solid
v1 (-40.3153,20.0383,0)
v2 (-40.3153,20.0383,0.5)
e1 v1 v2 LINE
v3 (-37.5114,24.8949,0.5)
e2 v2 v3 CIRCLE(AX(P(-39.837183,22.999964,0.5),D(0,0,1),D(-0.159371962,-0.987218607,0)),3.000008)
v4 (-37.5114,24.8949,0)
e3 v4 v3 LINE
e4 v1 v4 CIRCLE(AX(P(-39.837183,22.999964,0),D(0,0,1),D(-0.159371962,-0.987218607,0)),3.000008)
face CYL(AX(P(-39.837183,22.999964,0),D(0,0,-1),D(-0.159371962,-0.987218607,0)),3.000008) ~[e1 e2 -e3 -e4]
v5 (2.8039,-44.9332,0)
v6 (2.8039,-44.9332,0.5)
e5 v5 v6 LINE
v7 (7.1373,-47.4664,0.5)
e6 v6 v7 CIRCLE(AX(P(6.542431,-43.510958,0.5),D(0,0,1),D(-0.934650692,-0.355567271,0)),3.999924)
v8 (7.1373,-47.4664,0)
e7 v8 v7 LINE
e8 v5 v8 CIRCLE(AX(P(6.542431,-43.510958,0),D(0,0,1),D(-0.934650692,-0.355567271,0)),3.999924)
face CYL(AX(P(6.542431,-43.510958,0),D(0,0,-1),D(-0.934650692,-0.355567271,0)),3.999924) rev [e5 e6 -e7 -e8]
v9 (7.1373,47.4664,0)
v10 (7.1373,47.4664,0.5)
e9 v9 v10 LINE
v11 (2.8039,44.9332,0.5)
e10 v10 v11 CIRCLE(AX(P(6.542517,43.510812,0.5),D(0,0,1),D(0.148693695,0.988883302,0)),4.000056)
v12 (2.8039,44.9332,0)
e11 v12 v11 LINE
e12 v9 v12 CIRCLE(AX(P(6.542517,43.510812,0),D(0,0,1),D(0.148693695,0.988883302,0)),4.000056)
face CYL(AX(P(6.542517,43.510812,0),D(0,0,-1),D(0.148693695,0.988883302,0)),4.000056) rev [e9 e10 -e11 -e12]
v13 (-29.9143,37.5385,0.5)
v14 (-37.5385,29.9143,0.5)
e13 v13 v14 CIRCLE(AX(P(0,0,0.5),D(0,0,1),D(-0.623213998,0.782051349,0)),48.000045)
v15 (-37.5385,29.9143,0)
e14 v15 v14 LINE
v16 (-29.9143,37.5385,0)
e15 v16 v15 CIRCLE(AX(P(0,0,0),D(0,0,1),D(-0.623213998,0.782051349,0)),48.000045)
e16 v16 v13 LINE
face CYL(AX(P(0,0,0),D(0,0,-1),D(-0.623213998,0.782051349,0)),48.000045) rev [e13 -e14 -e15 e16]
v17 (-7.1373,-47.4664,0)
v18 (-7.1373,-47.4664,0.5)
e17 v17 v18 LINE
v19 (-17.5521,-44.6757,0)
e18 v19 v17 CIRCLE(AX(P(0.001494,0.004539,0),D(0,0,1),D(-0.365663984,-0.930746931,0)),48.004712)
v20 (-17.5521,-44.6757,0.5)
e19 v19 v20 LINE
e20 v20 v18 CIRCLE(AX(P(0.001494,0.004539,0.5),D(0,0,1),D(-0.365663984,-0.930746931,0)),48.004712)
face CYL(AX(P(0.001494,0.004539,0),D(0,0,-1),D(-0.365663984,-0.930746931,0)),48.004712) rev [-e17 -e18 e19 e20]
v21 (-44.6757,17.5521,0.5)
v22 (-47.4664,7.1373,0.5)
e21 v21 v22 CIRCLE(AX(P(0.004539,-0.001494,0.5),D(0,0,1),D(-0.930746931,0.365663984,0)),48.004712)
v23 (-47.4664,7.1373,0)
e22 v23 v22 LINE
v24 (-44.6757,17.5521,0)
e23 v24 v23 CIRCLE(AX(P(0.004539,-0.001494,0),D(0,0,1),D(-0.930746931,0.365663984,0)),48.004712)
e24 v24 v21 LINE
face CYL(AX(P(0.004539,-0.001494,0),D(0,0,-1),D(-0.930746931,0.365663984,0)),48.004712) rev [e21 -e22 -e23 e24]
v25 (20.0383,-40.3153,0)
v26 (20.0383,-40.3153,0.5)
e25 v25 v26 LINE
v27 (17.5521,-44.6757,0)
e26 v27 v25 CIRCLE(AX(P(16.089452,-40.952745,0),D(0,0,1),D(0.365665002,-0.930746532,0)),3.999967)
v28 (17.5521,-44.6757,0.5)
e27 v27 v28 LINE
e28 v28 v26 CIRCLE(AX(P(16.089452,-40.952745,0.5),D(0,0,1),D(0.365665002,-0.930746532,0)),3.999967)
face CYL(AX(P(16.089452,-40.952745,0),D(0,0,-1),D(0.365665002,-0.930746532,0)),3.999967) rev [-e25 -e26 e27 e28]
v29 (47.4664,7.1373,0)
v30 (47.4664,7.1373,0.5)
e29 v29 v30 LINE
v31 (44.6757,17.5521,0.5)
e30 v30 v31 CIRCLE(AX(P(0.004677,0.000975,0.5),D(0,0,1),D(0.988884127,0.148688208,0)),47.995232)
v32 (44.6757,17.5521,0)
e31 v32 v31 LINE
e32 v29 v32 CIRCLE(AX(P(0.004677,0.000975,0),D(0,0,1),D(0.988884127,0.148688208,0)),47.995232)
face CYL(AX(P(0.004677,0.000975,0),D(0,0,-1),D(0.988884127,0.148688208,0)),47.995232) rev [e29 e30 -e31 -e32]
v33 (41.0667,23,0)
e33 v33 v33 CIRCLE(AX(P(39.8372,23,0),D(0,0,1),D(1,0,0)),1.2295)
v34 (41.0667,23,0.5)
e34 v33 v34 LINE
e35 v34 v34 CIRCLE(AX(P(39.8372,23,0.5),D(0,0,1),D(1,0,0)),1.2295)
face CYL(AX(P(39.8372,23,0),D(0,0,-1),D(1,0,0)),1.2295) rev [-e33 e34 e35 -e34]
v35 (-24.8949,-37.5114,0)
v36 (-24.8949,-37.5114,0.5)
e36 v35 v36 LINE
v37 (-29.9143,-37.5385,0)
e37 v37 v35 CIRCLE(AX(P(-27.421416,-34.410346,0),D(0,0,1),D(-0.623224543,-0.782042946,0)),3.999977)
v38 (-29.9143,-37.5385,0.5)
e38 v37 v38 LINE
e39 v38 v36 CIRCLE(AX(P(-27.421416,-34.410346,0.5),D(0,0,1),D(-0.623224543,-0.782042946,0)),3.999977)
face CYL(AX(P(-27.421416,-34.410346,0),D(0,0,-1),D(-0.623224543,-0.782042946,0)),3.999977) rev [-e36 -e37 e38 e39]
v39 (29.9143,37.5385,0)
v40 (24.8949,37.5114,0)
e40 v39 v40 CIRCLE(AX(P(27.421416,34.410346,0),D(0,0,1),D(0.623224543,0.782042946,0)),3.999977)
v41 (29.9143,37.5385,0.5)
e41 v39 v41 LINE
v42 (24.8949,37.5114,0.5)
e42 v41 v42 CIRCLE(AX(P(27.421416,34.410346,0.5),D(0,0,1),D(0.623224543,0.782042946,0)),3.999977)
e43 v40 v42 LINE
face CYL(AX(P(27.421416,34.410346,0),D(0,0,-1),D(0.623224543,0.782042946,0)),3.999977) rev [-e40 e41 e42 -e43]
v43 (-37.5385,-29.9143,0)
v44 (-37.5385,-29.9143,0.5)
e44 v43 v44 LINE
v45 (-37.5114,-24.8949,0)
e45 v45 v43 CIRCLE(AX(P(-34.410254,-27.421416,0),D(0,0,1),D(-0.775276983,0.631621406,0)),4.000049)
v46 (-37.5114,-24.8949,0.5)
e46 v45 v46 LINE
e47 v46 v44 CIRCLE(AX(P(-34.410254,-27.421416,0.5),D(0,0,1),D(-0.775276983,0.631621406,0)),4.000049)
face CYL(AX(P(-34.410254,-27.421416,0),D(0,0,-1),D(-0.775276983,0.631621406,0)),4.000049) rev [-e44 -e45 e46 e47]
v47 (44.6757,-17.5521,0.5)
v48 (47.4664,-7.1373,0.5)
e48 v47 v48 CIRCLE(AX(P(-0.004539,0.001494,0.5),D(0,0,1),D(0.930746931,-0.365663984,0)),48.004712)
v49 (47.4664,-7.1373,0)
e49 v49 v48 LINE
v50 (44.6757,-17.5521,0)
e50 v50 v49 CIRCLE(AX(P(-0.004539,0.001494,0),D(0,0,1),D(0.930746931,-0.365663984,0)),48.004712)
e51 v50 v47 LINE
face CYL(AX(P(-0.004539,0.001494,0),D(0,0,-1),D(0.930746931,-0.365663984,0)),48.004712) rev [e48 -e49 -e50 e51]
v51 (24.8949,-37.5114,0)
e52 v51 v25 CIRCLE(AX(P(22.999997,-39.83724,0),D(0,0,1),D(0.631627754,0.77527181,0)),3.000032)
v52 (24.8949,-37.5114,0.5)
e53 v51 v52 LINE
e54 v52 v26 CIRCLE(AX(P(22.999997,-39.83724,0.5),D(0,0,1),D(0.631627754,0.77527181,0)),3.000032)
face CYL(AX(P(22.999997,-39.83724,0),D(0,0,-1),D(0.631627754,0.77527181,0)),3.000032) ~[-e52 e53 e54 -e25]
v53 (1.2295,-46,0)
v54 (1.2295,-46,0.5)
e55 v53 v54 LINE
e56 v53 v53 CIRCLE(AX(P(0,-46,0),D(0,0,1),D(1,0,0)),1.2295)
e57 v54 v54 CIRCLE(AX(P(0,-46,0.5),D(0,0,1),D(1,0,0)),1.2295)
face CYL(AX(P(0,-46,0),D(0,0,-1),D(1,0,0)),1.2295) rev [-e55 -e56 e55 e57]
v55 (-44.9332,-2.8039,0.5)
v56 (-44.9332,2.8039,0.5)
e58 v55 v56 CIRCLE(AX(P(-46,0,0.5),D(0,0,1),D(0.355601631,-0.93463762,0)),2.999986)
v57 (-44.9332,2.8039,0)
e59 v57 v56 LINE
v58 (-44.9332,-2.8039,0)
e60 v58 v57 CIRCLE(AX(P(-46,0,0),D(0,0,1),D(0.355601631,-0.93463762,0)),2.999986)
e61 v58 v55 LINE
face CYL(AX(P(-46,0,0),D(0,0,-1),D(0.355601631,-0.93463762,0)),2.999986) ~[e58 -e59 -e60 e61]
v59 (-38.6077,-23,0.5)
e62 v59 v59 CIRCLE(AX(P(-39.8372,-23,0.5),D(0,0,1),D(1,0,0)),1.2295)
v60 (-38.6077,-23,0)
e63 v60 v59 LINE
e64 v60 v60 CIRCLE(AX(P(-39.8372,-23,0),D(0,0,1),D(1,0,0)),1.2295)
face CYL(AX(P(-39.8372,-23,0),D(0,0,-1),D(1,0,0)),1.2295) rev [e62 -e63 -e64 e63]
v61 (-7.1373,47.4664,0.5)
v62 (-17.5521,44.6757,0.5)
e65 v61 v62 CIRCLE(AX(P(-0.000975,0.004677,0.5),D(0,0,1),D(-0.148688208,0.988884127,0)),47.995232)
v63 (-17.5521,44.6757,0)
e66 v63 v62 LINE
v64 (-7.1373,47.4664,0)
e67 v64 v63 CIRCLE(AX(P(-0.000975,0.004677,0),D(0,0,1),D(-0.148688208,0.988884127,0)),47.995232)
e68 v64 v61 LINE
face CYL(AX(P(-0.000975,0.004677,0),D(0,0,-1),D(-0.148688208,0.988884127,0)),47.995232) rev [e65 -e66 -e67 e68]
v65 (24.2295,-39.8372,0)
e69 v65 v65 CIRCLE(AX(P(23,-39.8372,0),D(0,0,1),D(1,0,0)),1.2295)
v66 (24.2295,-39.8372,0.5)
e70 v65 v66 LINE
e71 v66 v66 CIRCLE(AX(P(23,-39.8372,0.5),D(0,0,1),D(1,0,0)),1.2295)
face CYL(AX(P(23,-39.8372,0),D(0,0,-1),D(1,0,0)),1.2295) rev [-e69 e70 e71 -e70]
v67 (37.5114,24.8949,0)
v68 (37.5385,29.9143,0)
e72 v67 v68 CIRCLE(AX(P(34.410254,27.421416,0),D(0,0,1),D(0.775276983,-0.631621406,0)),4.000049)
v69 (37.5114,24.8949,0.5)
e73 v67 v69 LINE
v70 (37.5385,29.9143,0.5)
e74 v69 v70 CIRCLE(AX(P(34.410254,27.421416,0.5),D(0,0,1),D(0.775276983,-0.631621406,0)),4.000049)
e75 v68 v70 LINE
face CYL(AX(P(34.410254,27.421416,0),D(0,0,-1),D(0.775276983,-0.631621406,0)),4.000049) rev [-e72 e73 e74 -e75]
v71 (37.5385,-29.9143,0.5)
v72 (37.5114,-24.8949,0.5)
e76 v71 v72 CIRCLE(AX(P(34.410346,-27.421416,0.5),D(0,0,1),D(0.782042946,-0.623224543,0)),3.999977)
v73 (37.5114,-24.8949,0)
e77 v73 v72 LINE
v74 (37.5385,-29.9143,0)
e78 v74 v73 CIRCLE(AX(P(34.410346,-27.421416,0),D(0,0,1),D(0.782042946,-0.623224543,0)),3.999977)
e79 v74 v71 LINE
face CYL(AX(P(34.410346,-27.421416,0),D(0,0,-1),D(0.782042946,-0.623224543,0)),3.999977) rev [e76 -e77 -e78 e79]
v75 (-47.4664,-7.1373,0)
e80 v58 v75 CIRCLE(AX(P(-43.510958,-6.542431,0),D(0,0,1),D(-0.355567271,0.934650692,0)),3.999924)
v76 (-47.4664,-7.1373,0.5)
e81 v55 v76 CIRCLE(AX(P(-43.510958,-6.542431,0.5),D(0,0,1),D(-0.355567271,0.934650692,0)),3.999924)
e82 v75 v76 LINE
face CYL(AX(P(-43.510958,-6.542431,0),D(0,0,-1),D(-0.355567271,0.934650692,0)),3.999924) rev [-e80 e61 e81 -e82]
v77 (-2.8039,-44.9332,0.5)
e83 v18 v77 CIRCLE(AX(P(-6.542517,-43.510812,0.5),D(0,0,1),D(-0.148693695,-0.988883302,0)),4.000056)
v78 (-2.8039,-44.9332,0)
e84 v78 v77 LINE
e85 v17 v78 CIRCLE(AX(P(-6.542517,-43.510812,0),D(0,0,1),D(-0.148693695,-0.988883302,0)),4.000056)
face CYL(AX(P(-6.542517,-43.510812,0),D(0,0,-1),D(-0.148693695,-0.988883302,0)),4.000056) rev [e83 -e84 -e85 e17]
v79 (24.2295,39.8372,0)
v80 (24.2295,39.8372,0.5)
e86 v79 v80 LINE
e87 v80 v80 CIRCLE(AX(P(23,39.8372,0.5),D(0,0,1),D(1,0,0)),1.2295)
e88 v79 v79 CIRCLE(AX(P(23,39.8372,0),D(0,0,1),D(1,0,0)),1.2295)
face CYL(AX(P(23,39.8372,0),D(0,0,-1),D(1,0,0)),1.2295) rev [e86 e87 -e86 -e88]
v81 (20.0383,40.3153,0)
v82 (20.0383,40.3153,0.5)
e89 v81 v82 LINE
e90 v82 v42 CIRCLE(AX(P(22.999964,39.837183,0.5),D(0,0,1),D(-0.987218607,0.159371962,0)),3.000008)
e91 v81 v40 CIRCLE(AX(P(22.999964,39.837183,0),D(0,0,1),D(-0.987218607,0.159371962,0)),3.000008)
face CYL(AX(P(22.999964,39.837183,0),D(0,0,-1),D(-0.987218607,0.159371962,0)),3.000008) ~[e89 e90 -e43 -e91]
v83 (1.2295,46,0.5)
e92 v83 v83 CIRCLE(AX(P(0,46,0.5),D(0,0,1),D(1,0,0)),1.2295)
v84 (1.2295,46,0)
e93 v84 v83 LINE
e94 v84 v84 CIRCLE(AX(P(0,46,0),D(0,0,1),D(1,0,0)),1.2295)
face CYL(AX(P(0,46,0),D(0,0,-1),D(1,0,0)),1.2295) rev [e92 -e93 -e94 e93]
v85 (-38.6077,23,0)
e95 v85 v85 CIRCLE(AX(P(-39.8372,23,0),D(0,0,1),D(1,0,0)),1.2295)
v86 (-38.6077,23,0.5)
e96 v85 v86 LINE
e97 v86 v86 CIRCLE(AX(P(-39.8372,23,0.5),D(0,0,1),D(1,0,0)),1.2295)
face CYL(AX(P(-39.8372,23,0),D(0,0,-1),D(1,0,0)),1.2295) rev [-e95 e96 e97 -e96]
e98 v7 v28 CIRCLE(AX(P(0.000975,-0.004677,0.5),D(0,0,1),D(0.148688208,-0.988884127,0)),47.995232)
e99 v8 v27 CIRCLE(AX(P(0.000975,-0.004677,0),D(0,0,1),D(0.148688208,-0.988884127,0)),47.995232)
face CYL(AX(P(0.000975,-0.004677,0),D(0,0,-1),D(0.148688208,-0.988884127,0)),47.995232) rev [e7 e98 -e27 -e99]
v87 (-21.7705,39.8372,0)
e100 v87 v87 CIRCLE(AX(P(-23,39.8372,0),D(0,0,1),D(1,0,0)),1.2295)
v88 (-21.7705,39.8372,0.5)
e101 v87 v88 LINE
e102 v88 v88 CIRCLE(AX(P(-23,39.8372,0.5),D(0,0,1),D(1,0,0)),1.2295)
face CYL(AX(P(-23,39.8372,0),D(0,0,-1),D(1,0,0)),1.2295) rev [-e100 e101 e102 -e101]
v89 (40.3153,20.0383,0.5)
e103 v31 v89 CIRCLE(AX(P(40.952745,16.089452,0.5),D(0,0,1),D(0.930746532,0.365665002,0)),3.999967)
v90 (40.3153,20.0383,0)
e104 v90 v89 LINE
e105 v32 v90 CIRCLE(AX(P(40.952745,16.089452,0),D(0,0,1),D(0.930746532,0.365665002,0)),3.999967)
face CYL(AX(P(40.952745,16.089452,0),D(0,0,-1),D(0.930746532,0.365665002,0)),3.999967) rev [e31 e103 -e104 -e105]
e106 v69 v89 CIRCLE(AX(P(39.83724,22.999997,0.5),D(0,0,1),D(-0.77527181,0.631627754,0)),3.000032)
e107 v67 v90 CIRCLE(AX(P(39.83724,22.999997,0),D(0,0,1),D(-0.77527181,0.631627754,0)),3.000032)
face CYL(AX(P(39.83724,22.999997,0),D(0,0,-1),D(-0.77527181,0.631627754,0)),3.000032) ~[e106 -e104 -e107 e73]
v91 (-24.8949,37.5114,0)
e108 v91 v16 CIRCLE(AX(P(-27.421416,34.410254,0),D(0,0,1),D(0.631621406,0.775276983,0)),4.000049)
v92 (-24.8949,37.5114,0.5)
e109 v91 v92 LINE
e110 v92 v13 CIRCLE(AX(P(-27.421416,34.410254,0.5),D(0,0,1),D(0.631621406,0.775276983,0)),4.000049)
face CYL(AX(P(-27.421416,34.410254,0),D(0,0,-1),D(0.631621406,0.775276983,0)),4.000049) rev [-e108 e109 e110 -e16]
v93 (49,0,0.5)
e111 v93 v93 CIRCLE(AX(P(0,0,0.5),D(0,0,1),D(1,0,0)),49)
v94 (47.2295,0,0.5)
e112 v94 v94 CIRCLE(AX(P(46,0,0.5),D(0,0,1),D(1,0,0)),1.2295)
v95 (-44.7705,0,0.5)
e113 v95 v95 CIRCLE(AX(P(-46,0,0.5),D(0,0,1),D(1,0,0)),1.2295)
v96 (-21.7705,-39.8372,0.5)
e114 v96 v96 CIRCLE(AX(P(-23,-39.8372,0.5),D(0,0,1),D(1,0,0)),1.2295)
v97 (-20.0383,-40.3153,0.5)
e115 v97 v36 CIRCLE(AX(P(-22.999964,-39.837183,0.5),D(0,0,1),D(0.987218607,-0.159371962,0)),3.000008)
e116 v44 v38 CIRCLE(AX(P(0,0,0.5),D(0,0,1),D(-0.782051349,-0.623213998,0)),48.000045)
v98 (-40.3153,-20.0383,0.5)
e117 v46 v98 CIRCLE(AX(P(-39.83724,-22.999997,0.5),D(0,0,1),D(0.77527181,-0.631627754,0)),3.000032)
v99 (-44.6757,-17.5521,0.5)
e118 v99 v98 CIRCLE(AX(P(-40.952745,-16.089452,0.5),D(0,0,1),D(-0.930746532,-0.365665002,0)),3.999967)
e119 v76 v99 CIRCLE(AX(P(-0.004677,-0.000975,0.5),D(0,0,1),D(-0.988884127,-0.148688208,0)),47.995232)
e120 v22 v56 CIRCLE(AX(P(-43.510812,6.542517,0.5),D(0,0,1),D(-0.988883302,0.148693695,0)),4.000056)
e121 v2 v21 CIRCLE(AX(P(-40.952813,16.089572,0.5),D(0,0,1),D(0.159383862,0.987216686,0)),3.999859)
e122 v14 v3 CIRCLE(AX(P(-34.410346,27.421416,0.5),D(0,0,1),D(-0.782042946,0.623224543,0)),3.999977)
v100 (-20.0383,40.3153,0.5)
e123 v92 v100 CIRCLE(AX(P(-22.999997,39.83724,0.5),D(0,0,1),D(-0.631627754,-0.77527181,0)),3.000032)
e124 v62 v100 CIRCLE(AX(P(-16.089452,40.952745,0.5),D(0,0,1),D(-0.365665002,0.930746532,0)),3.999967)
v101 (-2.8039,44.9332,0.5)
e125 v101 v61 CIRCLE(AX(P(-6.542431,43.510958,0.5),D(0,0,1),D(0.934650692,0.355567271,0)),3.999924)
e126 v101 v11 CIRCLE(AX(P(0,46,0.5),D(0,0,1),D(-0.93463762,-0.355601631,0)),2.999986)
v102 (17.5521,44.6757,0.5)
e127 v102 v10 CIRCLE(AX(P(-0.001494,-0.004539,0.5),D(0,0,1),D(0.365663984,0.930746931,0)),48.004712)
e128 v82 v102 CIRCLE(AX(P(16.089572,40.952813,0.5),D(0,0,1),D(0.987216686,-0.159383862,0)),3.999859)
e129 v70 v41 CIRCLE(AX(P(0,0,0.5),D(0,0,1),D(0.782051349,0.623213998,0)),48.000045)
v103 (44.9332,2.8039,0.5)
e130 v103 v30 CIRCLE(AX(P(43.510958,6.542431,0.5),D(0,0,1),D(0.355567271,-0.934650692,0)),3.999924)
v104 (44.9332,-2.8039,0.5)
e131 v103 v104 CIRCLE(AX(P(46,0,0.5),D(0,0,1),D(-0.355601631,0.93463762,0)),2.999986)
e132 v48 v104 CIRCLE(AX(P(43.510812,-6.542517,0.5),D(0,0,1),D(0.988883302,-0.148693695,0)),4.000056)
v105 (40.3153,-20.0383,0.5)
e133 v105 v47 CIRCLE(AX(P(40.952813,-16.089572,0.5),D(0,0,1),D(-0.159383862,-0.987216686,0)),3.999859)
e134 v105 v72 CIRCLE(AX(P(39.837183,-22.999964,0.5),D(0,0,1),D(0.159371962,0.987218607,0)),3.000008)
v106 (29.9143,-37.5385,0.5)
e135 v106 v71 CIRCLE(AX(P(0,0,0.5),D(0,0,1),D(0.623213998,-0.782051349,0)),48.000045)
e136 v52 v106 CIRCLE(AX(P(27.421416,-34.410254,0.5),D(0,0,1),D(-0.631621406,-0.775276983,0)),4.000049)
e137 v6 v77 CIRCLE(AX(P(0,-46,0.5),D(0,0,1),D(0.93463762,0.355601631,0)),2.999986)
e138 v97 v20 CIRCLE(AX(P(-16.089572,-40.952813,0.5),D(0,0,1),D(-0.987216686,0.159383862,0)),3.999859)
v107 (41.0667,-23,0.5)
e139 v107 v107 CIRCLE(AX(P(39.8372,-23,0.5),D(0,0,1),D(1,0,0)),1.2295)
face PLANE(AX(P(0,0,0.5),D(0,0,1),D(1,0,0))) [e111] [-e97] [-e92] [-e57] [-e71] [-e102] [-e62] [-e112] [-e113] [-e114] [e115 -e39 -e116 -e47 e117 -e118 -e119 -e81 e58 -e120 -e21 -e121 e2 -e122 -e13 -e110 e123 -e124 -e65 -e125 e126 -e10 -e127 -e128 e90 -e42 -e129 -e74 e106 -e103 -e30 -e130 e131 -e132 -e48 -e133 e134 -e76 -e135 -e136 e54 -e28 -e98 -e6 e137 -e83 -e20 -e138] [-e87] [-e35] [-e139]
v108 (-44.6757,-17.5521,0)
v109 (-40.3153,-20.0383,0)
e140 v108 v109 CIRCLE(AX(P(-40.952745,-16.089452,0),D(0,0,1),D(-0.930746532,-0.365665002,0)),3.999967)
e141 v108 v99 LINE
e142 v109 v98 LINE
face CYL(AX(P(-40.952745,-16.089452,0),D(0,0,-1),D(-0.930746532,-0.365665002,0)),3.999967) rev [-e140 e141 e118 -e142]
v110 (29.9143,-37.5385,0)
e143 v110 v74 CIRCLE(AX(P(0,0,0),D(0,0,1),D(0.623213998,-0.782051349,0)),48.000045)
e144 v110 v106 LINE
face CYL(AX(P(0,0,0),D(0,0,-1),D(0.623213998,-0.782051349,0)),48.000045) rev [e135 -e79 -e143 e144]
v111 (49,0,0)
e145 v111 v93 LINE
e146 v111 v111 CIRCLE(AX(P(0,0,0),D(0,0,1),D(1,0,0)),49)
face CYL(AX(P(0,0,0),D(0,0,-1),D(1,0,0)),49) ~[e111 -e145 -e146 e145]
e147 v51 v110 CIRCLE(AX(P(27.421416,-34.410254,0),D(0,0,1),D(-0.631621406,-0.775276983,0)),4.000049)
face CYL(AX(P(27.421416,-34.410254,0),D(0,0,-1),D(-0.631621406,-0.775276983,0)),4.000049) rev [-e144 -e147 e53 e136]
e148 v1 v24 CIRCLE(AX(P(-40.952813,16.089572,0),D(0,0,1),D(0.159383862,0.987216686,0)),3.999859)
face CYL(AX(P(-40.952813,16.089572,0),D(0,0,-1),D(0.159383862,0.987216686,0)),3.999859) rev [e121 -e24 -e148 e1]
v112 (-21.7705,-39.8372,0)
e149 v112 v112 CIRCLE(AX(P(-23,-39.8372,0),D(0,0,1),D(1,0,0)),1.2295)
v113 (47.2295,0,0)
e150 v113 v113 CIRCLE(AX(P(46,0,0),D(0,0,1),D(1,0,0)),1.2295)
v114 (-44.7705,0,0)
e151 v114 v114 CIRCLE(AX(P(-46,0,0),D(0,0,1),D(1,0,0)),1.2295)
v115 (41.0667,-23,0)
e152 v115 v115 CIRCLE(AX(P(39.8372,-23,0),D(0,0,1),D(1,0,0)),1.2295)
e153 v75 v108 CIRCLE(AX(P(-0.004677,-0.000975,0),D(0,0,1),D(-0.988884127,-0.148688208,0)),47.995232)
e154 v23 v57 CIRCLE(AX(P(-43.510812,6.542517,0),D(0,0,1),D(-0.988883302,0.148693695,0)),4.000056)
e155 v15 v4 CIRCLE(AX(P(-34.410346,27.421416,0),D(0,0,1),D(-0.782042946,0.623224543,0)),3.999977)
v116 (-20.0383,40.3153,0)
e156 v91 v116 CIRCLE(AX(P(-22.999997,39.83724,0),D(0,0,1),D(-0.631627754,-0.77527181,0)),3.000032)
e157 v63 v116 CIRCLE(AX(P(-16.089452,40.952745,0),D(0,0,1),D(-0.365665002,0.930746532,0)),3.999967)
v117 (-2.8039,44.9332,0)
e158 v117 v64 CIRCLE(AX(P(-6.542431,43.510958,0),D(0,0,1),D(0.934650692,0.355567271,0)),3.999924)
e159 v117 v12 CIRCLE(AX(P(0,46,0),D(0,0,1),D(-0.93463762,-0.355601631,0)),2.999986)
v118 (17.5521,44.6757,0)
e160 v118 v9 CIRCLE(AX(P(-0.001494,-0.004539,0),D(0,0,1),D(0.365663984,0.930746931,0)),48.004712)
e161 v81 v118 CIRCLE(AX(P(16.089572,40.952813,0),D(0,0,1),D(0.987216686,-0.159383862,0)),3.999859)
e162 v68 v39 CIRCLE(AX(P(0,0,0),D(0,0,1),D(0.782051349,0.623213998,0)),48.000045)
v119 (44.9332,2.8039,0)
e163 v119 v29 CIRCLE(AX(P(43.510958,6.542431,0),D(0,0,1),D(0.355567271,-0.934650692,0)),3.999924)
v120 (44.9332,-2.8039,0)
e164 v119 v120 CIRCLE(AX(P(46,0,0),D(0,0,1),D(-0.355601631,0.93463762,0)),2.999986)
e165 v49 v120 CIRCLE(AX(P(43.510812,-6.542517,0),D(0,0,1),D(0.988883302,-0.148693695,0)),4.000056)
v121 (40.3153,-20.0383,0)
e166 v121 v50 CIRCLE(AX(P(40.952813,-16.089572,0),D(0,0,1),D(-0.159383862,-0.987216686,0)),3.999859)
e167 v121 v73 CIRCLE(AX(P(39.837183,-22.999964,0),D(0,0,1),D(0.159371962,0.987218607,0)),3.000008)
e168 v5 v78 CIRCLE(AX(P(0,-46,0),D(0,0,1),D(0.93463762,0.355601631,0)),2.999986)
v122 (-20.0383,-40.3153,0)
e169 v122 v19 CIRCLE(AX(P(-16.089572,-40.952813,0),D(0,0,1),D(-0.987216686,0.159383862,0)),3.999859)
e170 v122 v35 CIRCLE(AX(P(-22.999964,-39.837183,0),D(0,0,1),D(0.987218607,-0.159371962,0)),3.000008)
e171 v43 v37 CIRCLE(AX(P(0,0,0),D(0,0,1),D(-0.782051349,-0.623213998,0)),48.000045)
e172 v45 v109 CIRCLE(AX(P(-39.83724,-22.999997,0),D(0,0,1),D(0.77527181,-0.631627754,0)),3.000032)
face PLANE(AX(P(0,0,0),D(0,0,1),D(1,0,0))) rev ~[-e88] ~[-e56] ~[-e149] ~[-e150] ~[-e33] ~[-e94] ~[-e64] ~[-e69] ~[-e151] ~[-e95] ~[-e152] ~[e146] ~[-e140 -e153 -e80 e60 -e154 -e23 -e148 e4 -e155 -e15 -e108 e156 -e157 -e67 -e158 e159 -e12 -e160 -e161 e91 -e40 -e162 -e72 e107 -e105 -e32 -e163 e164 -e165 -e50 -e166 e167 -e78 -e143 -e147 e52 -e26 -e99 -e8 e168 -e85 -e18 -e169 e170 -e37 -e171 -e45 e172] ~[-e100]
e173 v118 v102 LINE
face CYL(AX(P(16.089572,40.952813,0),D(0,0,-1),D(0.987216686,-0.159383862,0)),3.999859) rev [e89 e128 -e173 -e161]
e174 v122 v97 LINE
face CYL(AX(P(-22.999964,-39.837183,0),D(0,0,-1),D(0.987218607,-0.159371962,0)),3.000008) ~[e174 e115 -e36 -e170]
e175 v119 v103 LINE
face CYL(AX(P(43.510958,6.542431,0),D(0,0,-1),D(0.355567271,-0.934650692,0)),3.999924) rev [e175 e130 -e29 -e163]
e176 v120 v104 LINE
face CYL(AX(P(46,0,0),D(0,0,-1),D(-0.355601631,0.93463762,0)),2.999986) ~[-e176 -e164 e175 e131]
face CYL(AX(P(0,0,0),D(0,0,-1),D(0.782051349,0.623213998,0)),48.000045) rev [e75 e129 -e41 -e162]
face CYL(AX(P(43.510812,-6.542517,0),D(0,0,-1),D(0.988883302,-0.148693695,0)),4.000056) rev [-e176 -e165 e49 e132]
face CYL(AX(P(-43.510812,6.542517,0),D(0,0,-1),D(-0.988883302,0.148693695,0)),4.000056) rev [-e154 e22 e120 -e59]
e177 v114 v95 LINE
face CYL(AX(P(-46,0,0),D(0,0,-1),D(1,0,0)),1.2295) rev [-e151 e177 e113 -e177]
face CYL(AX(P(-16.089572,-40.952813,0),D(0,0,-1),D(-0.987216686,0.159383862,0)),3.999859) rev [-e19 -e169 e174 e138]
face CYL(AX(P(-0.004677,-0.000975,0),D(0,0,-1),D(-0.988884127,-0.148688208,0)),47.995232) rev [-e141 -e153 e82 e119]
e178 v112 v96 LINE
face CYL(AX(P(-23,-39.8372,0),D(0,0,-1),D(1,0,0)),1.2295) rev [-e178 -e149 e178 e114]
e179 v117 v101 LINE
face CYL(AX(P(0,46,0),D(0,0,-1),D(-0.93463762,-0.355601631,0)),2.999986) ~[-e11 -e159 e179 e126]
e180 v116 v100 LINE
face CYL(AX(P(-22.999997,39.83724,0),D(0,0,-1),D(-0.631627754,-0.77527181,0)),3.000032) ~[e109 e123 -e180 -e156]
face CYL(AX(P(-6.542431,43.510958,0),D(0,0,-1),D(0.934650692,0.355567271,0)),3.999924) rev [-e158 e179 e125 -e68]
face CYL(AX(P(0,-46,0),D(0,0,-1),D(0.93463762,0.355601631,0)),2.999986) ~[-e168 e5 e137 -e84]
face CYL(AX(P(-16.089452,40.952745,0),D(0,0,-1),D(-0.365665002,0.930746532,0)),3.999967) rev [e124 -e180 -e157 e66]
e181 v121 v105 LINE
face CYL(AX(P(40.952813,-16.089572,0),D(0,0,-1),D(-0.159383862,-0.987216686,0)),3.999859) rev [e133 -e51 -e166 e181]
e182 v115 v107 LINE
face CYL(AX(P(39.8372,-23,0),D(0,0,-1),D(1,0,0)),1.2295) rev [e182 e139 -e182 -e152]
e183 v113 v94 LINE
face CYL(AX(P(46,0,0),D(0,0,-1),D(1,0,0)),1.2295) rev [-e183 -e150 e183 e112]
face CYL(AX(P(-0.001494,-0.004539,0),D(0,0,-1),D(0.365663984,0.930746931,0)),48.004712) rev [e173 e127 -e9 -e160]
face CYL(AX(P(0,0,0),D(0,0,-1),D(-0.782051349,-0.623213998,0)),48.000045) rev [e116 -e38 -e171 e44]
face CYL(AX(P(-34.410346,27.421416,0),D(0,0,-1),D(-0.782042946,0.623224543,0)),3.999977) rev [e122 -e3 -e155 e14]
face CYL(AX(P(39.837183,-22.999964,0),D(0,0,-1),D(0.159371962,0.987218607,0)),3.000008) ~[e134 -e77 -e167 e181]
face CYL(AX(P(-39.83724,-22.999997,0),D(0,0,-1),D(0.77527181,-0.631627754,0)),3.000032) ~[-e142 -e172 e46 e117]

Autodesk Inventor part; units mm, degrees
ref_plane "YZ Plane" through (0, 0, 0) normal (1, 0, 0) x (0, 1, 0)
ref_plane "XZ Plane" through (0, 0, 0) normal (0, 1, 0) x (-1, 0, 0)
ref_plane "XY Plane" through (0, 0, 0) normal (0, 0, 1) x (1, 0, 0)
sketch "Sketch1" plane through (0, 0, 0) normal (0, 0, 1) x (1, 0, 0)
  circle A0 centre (39.8372, -23) radius 1.2295
  circle A1 centre (23, -39.8372) radius 1.2295
  circle A2 centre (0, -46) radius 1.2295
  circle A3 centre (-23, -39.8372) radius 1.2295
  circle A4 centre (-39.8372, -23) radius 1.2295
  circle A5 centre (-46, 0) radius 1.2295
  circle A6 centre (-39.8372, 23) radius 1.2295
  circle A7 centre (-23, 39.8372) radius 1.2295
  circle A8 centre (0, 46) radius 1.2295
  circle A9 centre (23, 39.8372) radius 1.2295
  circle A10 centre (39.8372, 23) radius 1.2295
  circle A11 centre (46, 0) radius 1.2295
  arc A12 (29.9143, -37.5385) -> (37.5385, -29.9143) centre (0, 0) ccw
  arc A13 (24.8949, -37.5114) -> (29.9143, -37.5385) centre (27.4214, -34.4103) ccw
  arc A14 (24.8949, -37.5114) -> (20.0383, -40.3153) centre (23, -39.8372) ccw
  arc A15 (17.5521, -44.6757) -> (20.0383, -40.3153) centre (16.0895, -40.9528) ccw
  arc A16 (7.1373, -47.4664) -> (17.5521, -44.6757) centre (0, 0) ccw
  arc A17 (2.8039, -44.9332) -> (7.1373, -47.4664) centre (6.5425, -43.5109) ccw
  arc A18 (2.8039, -44.9332) -> (-2.8039, -44.9332) centre (0, -46) ccw
  arc A19 (-7.1373, -47.4664) -> (-2.8039, -44.9332) centre (-6.5425, -43.5109) ccw
  arc A20 (-17.5521, -44.6757) -> (-7.1373, -47.4664) centre (0, 0) ccw
  arc A21 (-20.0383, -40.3153) -> (-17.5521, -44.6757) centre (-16.0895, -40.9528) ccw
  arc A22 (-20.0383, -40.3153) -> (-24.8949, -37.5114) centre (-23, -39.8372) ccw
  arc A23 (-29.9143, -37.5385) -> (-24.8949, -37.5114) centre (-27.4214, -34.4103) ccw
  arc A24 (-37.5385, -29.9143) -> (-29.9143, -37.5385) centre (0, 0) ccw
  arc A25 (-37.5114, -24.8949) -> (-37.5385, -29.9143) centre (-34.4103, -27.4214) ccw
  arc A26 (-37.5114, -24.8949) -> (-40.3153, -20.0383) centre (-39.8372, -23) ccw
  arc A27 (-44.6757, -17.5521) -> (-40.3153, -20.0383) centre (-40.9528, -16.0895) ccw
  arc A28 (-47.4664, -7.1373) -> (-44.6757, -17.5521) centre (0, 0) ccw
  arc A29 (-44.9332, -2.8039) -> (-47.4664, -7.1373) centre (-43.5109, -6.5425) ccw
  arc A30 (-44.9332, -2.8039) -> (-44.9332, 2.8039) centre (-46, 0) ccw
  arc A31 (-47.4664, 7.1373) -> (-44.9332, 2.8039) centre (-43.5109, 6.5425) ccw
  arc A32 (-44.6757, 17.5521) -> (-47.4664, 7.1373) centre (0, 0) ccw
  arc A33 (-40.3153, 20.0383) -> (-44.6757, 17.5521) centre (-40.9528, 16.0895) ccw
  arc A34 (-40.3153, 20.0383) -> (-37.5114, 24.8949) centre (-39.8372, 23) ccw
  arc A35 (-37.5385, 29.9143) -> (-37.5114, 24.8949) centre (-34.4103, 27.4214) ccw
  arc A36 (-29.9143, 37.5385) -> (-37.5385, 29.9143) centre (0, 0) ccw
  arc A37 (-24.8949, 37.5114) -> (-29.9143, 37.5385) centre (-27.4214, 34.4103) ccw
  arc A38 (-24.8949, 37.5114) -> (-20.0383, 40.3153) centre (-23, 39.8372) ccw
  arc A39 (-17.5521, 44.6757) -> (-20.0383, 40.3153) centre (-16.0895, 40.9528) ccw
  arc A40 (-7.1373, 47.4664) -> (-17.5521, 44.6757) centre (0, 0) ccw
  arc A41 (-2.8039, 44.9332) -> (-7.1373, 47.4664) centre (-6.5425, 43.5109) ccw
  arc A42 (-2.8039, 44.9332) -> (2.8039, 44.9332) centre (0, 46) ccw
  arc A43 (7.1373, 47.4664) -> (2.8039, 44.9332) centre (6.5425, 43.5109) ccw
  arc A44 (17.5521, 44.6757) -> (7.1373, 47.4664) centre (0, 0) ccw
  arc A45 (20.0383, 40.3153) -> (17.5521, 44.6757) centre (16.0895, 40.9528) ccw
  arc A46 (20.0383, 40.3153) -> (24.8949, 37.5114) centre (23, 39.8372) ccw
  arc A47 (29.9143, 37.5385) -> (24.8949, 37.5114) centre (27.4214, 34.4103) ccw
  arc A48 (37.5385, 29.9143) -> (29.9143, 37.5385) centre (0, 0) ccw
  arc A49 (37.5114, 24.8949) -> (37.5385, 29.9143) centre (34.4103, 27.4214) ccw
  arc A50 (37.5114, 24.8949) -> (40.3153, 20.0383) centre (39.8372, 23) ccw
  arc A51 (44.6757, 17.5521) -> (40.3153, 20.0383) centre (40.9528, 16.0895) ccw
  arc A52 (47.4664, 7.1373) -> (44.6757, 17.5521) centre (0, 0) ccw
  arc A53 (44.9332, 2.8039) -> (47.4664, 7.1373) centre (43.5109, 6.5425) ccw
  arc A54 (44.9332, 2.8039) -> (44.9332, -2.8039) centre (46, 0) ccw
  arc A55 (47.4664, -7.1373) -> (44.9332, -2.8039) centre (43.5109, -6.5425) ccw
  arc A56 (44.6757, -17.5521) -> (47.4664, -7.1373) centre (0, 0) ccw
  arc A57 (40.3153, -20.0383) -> (44.6757, -17.5521) centre (40.9528, -16.0895) ccw
  arc A58 (40.3153, -20.0383) -> (37.5114, -24.8949) centre (39.8372, -23) ccw
  arc A59 (37.5385, -29.9143) -> (37.5114, -24.8949) centre (34.4103, -27.4214) ccw
  circle A60 centre (0, 0) radius 49
extrude "Extrusion1" add sketch "Sketch1" along normal blind 0.5
properties part number "capsule.gasket"
